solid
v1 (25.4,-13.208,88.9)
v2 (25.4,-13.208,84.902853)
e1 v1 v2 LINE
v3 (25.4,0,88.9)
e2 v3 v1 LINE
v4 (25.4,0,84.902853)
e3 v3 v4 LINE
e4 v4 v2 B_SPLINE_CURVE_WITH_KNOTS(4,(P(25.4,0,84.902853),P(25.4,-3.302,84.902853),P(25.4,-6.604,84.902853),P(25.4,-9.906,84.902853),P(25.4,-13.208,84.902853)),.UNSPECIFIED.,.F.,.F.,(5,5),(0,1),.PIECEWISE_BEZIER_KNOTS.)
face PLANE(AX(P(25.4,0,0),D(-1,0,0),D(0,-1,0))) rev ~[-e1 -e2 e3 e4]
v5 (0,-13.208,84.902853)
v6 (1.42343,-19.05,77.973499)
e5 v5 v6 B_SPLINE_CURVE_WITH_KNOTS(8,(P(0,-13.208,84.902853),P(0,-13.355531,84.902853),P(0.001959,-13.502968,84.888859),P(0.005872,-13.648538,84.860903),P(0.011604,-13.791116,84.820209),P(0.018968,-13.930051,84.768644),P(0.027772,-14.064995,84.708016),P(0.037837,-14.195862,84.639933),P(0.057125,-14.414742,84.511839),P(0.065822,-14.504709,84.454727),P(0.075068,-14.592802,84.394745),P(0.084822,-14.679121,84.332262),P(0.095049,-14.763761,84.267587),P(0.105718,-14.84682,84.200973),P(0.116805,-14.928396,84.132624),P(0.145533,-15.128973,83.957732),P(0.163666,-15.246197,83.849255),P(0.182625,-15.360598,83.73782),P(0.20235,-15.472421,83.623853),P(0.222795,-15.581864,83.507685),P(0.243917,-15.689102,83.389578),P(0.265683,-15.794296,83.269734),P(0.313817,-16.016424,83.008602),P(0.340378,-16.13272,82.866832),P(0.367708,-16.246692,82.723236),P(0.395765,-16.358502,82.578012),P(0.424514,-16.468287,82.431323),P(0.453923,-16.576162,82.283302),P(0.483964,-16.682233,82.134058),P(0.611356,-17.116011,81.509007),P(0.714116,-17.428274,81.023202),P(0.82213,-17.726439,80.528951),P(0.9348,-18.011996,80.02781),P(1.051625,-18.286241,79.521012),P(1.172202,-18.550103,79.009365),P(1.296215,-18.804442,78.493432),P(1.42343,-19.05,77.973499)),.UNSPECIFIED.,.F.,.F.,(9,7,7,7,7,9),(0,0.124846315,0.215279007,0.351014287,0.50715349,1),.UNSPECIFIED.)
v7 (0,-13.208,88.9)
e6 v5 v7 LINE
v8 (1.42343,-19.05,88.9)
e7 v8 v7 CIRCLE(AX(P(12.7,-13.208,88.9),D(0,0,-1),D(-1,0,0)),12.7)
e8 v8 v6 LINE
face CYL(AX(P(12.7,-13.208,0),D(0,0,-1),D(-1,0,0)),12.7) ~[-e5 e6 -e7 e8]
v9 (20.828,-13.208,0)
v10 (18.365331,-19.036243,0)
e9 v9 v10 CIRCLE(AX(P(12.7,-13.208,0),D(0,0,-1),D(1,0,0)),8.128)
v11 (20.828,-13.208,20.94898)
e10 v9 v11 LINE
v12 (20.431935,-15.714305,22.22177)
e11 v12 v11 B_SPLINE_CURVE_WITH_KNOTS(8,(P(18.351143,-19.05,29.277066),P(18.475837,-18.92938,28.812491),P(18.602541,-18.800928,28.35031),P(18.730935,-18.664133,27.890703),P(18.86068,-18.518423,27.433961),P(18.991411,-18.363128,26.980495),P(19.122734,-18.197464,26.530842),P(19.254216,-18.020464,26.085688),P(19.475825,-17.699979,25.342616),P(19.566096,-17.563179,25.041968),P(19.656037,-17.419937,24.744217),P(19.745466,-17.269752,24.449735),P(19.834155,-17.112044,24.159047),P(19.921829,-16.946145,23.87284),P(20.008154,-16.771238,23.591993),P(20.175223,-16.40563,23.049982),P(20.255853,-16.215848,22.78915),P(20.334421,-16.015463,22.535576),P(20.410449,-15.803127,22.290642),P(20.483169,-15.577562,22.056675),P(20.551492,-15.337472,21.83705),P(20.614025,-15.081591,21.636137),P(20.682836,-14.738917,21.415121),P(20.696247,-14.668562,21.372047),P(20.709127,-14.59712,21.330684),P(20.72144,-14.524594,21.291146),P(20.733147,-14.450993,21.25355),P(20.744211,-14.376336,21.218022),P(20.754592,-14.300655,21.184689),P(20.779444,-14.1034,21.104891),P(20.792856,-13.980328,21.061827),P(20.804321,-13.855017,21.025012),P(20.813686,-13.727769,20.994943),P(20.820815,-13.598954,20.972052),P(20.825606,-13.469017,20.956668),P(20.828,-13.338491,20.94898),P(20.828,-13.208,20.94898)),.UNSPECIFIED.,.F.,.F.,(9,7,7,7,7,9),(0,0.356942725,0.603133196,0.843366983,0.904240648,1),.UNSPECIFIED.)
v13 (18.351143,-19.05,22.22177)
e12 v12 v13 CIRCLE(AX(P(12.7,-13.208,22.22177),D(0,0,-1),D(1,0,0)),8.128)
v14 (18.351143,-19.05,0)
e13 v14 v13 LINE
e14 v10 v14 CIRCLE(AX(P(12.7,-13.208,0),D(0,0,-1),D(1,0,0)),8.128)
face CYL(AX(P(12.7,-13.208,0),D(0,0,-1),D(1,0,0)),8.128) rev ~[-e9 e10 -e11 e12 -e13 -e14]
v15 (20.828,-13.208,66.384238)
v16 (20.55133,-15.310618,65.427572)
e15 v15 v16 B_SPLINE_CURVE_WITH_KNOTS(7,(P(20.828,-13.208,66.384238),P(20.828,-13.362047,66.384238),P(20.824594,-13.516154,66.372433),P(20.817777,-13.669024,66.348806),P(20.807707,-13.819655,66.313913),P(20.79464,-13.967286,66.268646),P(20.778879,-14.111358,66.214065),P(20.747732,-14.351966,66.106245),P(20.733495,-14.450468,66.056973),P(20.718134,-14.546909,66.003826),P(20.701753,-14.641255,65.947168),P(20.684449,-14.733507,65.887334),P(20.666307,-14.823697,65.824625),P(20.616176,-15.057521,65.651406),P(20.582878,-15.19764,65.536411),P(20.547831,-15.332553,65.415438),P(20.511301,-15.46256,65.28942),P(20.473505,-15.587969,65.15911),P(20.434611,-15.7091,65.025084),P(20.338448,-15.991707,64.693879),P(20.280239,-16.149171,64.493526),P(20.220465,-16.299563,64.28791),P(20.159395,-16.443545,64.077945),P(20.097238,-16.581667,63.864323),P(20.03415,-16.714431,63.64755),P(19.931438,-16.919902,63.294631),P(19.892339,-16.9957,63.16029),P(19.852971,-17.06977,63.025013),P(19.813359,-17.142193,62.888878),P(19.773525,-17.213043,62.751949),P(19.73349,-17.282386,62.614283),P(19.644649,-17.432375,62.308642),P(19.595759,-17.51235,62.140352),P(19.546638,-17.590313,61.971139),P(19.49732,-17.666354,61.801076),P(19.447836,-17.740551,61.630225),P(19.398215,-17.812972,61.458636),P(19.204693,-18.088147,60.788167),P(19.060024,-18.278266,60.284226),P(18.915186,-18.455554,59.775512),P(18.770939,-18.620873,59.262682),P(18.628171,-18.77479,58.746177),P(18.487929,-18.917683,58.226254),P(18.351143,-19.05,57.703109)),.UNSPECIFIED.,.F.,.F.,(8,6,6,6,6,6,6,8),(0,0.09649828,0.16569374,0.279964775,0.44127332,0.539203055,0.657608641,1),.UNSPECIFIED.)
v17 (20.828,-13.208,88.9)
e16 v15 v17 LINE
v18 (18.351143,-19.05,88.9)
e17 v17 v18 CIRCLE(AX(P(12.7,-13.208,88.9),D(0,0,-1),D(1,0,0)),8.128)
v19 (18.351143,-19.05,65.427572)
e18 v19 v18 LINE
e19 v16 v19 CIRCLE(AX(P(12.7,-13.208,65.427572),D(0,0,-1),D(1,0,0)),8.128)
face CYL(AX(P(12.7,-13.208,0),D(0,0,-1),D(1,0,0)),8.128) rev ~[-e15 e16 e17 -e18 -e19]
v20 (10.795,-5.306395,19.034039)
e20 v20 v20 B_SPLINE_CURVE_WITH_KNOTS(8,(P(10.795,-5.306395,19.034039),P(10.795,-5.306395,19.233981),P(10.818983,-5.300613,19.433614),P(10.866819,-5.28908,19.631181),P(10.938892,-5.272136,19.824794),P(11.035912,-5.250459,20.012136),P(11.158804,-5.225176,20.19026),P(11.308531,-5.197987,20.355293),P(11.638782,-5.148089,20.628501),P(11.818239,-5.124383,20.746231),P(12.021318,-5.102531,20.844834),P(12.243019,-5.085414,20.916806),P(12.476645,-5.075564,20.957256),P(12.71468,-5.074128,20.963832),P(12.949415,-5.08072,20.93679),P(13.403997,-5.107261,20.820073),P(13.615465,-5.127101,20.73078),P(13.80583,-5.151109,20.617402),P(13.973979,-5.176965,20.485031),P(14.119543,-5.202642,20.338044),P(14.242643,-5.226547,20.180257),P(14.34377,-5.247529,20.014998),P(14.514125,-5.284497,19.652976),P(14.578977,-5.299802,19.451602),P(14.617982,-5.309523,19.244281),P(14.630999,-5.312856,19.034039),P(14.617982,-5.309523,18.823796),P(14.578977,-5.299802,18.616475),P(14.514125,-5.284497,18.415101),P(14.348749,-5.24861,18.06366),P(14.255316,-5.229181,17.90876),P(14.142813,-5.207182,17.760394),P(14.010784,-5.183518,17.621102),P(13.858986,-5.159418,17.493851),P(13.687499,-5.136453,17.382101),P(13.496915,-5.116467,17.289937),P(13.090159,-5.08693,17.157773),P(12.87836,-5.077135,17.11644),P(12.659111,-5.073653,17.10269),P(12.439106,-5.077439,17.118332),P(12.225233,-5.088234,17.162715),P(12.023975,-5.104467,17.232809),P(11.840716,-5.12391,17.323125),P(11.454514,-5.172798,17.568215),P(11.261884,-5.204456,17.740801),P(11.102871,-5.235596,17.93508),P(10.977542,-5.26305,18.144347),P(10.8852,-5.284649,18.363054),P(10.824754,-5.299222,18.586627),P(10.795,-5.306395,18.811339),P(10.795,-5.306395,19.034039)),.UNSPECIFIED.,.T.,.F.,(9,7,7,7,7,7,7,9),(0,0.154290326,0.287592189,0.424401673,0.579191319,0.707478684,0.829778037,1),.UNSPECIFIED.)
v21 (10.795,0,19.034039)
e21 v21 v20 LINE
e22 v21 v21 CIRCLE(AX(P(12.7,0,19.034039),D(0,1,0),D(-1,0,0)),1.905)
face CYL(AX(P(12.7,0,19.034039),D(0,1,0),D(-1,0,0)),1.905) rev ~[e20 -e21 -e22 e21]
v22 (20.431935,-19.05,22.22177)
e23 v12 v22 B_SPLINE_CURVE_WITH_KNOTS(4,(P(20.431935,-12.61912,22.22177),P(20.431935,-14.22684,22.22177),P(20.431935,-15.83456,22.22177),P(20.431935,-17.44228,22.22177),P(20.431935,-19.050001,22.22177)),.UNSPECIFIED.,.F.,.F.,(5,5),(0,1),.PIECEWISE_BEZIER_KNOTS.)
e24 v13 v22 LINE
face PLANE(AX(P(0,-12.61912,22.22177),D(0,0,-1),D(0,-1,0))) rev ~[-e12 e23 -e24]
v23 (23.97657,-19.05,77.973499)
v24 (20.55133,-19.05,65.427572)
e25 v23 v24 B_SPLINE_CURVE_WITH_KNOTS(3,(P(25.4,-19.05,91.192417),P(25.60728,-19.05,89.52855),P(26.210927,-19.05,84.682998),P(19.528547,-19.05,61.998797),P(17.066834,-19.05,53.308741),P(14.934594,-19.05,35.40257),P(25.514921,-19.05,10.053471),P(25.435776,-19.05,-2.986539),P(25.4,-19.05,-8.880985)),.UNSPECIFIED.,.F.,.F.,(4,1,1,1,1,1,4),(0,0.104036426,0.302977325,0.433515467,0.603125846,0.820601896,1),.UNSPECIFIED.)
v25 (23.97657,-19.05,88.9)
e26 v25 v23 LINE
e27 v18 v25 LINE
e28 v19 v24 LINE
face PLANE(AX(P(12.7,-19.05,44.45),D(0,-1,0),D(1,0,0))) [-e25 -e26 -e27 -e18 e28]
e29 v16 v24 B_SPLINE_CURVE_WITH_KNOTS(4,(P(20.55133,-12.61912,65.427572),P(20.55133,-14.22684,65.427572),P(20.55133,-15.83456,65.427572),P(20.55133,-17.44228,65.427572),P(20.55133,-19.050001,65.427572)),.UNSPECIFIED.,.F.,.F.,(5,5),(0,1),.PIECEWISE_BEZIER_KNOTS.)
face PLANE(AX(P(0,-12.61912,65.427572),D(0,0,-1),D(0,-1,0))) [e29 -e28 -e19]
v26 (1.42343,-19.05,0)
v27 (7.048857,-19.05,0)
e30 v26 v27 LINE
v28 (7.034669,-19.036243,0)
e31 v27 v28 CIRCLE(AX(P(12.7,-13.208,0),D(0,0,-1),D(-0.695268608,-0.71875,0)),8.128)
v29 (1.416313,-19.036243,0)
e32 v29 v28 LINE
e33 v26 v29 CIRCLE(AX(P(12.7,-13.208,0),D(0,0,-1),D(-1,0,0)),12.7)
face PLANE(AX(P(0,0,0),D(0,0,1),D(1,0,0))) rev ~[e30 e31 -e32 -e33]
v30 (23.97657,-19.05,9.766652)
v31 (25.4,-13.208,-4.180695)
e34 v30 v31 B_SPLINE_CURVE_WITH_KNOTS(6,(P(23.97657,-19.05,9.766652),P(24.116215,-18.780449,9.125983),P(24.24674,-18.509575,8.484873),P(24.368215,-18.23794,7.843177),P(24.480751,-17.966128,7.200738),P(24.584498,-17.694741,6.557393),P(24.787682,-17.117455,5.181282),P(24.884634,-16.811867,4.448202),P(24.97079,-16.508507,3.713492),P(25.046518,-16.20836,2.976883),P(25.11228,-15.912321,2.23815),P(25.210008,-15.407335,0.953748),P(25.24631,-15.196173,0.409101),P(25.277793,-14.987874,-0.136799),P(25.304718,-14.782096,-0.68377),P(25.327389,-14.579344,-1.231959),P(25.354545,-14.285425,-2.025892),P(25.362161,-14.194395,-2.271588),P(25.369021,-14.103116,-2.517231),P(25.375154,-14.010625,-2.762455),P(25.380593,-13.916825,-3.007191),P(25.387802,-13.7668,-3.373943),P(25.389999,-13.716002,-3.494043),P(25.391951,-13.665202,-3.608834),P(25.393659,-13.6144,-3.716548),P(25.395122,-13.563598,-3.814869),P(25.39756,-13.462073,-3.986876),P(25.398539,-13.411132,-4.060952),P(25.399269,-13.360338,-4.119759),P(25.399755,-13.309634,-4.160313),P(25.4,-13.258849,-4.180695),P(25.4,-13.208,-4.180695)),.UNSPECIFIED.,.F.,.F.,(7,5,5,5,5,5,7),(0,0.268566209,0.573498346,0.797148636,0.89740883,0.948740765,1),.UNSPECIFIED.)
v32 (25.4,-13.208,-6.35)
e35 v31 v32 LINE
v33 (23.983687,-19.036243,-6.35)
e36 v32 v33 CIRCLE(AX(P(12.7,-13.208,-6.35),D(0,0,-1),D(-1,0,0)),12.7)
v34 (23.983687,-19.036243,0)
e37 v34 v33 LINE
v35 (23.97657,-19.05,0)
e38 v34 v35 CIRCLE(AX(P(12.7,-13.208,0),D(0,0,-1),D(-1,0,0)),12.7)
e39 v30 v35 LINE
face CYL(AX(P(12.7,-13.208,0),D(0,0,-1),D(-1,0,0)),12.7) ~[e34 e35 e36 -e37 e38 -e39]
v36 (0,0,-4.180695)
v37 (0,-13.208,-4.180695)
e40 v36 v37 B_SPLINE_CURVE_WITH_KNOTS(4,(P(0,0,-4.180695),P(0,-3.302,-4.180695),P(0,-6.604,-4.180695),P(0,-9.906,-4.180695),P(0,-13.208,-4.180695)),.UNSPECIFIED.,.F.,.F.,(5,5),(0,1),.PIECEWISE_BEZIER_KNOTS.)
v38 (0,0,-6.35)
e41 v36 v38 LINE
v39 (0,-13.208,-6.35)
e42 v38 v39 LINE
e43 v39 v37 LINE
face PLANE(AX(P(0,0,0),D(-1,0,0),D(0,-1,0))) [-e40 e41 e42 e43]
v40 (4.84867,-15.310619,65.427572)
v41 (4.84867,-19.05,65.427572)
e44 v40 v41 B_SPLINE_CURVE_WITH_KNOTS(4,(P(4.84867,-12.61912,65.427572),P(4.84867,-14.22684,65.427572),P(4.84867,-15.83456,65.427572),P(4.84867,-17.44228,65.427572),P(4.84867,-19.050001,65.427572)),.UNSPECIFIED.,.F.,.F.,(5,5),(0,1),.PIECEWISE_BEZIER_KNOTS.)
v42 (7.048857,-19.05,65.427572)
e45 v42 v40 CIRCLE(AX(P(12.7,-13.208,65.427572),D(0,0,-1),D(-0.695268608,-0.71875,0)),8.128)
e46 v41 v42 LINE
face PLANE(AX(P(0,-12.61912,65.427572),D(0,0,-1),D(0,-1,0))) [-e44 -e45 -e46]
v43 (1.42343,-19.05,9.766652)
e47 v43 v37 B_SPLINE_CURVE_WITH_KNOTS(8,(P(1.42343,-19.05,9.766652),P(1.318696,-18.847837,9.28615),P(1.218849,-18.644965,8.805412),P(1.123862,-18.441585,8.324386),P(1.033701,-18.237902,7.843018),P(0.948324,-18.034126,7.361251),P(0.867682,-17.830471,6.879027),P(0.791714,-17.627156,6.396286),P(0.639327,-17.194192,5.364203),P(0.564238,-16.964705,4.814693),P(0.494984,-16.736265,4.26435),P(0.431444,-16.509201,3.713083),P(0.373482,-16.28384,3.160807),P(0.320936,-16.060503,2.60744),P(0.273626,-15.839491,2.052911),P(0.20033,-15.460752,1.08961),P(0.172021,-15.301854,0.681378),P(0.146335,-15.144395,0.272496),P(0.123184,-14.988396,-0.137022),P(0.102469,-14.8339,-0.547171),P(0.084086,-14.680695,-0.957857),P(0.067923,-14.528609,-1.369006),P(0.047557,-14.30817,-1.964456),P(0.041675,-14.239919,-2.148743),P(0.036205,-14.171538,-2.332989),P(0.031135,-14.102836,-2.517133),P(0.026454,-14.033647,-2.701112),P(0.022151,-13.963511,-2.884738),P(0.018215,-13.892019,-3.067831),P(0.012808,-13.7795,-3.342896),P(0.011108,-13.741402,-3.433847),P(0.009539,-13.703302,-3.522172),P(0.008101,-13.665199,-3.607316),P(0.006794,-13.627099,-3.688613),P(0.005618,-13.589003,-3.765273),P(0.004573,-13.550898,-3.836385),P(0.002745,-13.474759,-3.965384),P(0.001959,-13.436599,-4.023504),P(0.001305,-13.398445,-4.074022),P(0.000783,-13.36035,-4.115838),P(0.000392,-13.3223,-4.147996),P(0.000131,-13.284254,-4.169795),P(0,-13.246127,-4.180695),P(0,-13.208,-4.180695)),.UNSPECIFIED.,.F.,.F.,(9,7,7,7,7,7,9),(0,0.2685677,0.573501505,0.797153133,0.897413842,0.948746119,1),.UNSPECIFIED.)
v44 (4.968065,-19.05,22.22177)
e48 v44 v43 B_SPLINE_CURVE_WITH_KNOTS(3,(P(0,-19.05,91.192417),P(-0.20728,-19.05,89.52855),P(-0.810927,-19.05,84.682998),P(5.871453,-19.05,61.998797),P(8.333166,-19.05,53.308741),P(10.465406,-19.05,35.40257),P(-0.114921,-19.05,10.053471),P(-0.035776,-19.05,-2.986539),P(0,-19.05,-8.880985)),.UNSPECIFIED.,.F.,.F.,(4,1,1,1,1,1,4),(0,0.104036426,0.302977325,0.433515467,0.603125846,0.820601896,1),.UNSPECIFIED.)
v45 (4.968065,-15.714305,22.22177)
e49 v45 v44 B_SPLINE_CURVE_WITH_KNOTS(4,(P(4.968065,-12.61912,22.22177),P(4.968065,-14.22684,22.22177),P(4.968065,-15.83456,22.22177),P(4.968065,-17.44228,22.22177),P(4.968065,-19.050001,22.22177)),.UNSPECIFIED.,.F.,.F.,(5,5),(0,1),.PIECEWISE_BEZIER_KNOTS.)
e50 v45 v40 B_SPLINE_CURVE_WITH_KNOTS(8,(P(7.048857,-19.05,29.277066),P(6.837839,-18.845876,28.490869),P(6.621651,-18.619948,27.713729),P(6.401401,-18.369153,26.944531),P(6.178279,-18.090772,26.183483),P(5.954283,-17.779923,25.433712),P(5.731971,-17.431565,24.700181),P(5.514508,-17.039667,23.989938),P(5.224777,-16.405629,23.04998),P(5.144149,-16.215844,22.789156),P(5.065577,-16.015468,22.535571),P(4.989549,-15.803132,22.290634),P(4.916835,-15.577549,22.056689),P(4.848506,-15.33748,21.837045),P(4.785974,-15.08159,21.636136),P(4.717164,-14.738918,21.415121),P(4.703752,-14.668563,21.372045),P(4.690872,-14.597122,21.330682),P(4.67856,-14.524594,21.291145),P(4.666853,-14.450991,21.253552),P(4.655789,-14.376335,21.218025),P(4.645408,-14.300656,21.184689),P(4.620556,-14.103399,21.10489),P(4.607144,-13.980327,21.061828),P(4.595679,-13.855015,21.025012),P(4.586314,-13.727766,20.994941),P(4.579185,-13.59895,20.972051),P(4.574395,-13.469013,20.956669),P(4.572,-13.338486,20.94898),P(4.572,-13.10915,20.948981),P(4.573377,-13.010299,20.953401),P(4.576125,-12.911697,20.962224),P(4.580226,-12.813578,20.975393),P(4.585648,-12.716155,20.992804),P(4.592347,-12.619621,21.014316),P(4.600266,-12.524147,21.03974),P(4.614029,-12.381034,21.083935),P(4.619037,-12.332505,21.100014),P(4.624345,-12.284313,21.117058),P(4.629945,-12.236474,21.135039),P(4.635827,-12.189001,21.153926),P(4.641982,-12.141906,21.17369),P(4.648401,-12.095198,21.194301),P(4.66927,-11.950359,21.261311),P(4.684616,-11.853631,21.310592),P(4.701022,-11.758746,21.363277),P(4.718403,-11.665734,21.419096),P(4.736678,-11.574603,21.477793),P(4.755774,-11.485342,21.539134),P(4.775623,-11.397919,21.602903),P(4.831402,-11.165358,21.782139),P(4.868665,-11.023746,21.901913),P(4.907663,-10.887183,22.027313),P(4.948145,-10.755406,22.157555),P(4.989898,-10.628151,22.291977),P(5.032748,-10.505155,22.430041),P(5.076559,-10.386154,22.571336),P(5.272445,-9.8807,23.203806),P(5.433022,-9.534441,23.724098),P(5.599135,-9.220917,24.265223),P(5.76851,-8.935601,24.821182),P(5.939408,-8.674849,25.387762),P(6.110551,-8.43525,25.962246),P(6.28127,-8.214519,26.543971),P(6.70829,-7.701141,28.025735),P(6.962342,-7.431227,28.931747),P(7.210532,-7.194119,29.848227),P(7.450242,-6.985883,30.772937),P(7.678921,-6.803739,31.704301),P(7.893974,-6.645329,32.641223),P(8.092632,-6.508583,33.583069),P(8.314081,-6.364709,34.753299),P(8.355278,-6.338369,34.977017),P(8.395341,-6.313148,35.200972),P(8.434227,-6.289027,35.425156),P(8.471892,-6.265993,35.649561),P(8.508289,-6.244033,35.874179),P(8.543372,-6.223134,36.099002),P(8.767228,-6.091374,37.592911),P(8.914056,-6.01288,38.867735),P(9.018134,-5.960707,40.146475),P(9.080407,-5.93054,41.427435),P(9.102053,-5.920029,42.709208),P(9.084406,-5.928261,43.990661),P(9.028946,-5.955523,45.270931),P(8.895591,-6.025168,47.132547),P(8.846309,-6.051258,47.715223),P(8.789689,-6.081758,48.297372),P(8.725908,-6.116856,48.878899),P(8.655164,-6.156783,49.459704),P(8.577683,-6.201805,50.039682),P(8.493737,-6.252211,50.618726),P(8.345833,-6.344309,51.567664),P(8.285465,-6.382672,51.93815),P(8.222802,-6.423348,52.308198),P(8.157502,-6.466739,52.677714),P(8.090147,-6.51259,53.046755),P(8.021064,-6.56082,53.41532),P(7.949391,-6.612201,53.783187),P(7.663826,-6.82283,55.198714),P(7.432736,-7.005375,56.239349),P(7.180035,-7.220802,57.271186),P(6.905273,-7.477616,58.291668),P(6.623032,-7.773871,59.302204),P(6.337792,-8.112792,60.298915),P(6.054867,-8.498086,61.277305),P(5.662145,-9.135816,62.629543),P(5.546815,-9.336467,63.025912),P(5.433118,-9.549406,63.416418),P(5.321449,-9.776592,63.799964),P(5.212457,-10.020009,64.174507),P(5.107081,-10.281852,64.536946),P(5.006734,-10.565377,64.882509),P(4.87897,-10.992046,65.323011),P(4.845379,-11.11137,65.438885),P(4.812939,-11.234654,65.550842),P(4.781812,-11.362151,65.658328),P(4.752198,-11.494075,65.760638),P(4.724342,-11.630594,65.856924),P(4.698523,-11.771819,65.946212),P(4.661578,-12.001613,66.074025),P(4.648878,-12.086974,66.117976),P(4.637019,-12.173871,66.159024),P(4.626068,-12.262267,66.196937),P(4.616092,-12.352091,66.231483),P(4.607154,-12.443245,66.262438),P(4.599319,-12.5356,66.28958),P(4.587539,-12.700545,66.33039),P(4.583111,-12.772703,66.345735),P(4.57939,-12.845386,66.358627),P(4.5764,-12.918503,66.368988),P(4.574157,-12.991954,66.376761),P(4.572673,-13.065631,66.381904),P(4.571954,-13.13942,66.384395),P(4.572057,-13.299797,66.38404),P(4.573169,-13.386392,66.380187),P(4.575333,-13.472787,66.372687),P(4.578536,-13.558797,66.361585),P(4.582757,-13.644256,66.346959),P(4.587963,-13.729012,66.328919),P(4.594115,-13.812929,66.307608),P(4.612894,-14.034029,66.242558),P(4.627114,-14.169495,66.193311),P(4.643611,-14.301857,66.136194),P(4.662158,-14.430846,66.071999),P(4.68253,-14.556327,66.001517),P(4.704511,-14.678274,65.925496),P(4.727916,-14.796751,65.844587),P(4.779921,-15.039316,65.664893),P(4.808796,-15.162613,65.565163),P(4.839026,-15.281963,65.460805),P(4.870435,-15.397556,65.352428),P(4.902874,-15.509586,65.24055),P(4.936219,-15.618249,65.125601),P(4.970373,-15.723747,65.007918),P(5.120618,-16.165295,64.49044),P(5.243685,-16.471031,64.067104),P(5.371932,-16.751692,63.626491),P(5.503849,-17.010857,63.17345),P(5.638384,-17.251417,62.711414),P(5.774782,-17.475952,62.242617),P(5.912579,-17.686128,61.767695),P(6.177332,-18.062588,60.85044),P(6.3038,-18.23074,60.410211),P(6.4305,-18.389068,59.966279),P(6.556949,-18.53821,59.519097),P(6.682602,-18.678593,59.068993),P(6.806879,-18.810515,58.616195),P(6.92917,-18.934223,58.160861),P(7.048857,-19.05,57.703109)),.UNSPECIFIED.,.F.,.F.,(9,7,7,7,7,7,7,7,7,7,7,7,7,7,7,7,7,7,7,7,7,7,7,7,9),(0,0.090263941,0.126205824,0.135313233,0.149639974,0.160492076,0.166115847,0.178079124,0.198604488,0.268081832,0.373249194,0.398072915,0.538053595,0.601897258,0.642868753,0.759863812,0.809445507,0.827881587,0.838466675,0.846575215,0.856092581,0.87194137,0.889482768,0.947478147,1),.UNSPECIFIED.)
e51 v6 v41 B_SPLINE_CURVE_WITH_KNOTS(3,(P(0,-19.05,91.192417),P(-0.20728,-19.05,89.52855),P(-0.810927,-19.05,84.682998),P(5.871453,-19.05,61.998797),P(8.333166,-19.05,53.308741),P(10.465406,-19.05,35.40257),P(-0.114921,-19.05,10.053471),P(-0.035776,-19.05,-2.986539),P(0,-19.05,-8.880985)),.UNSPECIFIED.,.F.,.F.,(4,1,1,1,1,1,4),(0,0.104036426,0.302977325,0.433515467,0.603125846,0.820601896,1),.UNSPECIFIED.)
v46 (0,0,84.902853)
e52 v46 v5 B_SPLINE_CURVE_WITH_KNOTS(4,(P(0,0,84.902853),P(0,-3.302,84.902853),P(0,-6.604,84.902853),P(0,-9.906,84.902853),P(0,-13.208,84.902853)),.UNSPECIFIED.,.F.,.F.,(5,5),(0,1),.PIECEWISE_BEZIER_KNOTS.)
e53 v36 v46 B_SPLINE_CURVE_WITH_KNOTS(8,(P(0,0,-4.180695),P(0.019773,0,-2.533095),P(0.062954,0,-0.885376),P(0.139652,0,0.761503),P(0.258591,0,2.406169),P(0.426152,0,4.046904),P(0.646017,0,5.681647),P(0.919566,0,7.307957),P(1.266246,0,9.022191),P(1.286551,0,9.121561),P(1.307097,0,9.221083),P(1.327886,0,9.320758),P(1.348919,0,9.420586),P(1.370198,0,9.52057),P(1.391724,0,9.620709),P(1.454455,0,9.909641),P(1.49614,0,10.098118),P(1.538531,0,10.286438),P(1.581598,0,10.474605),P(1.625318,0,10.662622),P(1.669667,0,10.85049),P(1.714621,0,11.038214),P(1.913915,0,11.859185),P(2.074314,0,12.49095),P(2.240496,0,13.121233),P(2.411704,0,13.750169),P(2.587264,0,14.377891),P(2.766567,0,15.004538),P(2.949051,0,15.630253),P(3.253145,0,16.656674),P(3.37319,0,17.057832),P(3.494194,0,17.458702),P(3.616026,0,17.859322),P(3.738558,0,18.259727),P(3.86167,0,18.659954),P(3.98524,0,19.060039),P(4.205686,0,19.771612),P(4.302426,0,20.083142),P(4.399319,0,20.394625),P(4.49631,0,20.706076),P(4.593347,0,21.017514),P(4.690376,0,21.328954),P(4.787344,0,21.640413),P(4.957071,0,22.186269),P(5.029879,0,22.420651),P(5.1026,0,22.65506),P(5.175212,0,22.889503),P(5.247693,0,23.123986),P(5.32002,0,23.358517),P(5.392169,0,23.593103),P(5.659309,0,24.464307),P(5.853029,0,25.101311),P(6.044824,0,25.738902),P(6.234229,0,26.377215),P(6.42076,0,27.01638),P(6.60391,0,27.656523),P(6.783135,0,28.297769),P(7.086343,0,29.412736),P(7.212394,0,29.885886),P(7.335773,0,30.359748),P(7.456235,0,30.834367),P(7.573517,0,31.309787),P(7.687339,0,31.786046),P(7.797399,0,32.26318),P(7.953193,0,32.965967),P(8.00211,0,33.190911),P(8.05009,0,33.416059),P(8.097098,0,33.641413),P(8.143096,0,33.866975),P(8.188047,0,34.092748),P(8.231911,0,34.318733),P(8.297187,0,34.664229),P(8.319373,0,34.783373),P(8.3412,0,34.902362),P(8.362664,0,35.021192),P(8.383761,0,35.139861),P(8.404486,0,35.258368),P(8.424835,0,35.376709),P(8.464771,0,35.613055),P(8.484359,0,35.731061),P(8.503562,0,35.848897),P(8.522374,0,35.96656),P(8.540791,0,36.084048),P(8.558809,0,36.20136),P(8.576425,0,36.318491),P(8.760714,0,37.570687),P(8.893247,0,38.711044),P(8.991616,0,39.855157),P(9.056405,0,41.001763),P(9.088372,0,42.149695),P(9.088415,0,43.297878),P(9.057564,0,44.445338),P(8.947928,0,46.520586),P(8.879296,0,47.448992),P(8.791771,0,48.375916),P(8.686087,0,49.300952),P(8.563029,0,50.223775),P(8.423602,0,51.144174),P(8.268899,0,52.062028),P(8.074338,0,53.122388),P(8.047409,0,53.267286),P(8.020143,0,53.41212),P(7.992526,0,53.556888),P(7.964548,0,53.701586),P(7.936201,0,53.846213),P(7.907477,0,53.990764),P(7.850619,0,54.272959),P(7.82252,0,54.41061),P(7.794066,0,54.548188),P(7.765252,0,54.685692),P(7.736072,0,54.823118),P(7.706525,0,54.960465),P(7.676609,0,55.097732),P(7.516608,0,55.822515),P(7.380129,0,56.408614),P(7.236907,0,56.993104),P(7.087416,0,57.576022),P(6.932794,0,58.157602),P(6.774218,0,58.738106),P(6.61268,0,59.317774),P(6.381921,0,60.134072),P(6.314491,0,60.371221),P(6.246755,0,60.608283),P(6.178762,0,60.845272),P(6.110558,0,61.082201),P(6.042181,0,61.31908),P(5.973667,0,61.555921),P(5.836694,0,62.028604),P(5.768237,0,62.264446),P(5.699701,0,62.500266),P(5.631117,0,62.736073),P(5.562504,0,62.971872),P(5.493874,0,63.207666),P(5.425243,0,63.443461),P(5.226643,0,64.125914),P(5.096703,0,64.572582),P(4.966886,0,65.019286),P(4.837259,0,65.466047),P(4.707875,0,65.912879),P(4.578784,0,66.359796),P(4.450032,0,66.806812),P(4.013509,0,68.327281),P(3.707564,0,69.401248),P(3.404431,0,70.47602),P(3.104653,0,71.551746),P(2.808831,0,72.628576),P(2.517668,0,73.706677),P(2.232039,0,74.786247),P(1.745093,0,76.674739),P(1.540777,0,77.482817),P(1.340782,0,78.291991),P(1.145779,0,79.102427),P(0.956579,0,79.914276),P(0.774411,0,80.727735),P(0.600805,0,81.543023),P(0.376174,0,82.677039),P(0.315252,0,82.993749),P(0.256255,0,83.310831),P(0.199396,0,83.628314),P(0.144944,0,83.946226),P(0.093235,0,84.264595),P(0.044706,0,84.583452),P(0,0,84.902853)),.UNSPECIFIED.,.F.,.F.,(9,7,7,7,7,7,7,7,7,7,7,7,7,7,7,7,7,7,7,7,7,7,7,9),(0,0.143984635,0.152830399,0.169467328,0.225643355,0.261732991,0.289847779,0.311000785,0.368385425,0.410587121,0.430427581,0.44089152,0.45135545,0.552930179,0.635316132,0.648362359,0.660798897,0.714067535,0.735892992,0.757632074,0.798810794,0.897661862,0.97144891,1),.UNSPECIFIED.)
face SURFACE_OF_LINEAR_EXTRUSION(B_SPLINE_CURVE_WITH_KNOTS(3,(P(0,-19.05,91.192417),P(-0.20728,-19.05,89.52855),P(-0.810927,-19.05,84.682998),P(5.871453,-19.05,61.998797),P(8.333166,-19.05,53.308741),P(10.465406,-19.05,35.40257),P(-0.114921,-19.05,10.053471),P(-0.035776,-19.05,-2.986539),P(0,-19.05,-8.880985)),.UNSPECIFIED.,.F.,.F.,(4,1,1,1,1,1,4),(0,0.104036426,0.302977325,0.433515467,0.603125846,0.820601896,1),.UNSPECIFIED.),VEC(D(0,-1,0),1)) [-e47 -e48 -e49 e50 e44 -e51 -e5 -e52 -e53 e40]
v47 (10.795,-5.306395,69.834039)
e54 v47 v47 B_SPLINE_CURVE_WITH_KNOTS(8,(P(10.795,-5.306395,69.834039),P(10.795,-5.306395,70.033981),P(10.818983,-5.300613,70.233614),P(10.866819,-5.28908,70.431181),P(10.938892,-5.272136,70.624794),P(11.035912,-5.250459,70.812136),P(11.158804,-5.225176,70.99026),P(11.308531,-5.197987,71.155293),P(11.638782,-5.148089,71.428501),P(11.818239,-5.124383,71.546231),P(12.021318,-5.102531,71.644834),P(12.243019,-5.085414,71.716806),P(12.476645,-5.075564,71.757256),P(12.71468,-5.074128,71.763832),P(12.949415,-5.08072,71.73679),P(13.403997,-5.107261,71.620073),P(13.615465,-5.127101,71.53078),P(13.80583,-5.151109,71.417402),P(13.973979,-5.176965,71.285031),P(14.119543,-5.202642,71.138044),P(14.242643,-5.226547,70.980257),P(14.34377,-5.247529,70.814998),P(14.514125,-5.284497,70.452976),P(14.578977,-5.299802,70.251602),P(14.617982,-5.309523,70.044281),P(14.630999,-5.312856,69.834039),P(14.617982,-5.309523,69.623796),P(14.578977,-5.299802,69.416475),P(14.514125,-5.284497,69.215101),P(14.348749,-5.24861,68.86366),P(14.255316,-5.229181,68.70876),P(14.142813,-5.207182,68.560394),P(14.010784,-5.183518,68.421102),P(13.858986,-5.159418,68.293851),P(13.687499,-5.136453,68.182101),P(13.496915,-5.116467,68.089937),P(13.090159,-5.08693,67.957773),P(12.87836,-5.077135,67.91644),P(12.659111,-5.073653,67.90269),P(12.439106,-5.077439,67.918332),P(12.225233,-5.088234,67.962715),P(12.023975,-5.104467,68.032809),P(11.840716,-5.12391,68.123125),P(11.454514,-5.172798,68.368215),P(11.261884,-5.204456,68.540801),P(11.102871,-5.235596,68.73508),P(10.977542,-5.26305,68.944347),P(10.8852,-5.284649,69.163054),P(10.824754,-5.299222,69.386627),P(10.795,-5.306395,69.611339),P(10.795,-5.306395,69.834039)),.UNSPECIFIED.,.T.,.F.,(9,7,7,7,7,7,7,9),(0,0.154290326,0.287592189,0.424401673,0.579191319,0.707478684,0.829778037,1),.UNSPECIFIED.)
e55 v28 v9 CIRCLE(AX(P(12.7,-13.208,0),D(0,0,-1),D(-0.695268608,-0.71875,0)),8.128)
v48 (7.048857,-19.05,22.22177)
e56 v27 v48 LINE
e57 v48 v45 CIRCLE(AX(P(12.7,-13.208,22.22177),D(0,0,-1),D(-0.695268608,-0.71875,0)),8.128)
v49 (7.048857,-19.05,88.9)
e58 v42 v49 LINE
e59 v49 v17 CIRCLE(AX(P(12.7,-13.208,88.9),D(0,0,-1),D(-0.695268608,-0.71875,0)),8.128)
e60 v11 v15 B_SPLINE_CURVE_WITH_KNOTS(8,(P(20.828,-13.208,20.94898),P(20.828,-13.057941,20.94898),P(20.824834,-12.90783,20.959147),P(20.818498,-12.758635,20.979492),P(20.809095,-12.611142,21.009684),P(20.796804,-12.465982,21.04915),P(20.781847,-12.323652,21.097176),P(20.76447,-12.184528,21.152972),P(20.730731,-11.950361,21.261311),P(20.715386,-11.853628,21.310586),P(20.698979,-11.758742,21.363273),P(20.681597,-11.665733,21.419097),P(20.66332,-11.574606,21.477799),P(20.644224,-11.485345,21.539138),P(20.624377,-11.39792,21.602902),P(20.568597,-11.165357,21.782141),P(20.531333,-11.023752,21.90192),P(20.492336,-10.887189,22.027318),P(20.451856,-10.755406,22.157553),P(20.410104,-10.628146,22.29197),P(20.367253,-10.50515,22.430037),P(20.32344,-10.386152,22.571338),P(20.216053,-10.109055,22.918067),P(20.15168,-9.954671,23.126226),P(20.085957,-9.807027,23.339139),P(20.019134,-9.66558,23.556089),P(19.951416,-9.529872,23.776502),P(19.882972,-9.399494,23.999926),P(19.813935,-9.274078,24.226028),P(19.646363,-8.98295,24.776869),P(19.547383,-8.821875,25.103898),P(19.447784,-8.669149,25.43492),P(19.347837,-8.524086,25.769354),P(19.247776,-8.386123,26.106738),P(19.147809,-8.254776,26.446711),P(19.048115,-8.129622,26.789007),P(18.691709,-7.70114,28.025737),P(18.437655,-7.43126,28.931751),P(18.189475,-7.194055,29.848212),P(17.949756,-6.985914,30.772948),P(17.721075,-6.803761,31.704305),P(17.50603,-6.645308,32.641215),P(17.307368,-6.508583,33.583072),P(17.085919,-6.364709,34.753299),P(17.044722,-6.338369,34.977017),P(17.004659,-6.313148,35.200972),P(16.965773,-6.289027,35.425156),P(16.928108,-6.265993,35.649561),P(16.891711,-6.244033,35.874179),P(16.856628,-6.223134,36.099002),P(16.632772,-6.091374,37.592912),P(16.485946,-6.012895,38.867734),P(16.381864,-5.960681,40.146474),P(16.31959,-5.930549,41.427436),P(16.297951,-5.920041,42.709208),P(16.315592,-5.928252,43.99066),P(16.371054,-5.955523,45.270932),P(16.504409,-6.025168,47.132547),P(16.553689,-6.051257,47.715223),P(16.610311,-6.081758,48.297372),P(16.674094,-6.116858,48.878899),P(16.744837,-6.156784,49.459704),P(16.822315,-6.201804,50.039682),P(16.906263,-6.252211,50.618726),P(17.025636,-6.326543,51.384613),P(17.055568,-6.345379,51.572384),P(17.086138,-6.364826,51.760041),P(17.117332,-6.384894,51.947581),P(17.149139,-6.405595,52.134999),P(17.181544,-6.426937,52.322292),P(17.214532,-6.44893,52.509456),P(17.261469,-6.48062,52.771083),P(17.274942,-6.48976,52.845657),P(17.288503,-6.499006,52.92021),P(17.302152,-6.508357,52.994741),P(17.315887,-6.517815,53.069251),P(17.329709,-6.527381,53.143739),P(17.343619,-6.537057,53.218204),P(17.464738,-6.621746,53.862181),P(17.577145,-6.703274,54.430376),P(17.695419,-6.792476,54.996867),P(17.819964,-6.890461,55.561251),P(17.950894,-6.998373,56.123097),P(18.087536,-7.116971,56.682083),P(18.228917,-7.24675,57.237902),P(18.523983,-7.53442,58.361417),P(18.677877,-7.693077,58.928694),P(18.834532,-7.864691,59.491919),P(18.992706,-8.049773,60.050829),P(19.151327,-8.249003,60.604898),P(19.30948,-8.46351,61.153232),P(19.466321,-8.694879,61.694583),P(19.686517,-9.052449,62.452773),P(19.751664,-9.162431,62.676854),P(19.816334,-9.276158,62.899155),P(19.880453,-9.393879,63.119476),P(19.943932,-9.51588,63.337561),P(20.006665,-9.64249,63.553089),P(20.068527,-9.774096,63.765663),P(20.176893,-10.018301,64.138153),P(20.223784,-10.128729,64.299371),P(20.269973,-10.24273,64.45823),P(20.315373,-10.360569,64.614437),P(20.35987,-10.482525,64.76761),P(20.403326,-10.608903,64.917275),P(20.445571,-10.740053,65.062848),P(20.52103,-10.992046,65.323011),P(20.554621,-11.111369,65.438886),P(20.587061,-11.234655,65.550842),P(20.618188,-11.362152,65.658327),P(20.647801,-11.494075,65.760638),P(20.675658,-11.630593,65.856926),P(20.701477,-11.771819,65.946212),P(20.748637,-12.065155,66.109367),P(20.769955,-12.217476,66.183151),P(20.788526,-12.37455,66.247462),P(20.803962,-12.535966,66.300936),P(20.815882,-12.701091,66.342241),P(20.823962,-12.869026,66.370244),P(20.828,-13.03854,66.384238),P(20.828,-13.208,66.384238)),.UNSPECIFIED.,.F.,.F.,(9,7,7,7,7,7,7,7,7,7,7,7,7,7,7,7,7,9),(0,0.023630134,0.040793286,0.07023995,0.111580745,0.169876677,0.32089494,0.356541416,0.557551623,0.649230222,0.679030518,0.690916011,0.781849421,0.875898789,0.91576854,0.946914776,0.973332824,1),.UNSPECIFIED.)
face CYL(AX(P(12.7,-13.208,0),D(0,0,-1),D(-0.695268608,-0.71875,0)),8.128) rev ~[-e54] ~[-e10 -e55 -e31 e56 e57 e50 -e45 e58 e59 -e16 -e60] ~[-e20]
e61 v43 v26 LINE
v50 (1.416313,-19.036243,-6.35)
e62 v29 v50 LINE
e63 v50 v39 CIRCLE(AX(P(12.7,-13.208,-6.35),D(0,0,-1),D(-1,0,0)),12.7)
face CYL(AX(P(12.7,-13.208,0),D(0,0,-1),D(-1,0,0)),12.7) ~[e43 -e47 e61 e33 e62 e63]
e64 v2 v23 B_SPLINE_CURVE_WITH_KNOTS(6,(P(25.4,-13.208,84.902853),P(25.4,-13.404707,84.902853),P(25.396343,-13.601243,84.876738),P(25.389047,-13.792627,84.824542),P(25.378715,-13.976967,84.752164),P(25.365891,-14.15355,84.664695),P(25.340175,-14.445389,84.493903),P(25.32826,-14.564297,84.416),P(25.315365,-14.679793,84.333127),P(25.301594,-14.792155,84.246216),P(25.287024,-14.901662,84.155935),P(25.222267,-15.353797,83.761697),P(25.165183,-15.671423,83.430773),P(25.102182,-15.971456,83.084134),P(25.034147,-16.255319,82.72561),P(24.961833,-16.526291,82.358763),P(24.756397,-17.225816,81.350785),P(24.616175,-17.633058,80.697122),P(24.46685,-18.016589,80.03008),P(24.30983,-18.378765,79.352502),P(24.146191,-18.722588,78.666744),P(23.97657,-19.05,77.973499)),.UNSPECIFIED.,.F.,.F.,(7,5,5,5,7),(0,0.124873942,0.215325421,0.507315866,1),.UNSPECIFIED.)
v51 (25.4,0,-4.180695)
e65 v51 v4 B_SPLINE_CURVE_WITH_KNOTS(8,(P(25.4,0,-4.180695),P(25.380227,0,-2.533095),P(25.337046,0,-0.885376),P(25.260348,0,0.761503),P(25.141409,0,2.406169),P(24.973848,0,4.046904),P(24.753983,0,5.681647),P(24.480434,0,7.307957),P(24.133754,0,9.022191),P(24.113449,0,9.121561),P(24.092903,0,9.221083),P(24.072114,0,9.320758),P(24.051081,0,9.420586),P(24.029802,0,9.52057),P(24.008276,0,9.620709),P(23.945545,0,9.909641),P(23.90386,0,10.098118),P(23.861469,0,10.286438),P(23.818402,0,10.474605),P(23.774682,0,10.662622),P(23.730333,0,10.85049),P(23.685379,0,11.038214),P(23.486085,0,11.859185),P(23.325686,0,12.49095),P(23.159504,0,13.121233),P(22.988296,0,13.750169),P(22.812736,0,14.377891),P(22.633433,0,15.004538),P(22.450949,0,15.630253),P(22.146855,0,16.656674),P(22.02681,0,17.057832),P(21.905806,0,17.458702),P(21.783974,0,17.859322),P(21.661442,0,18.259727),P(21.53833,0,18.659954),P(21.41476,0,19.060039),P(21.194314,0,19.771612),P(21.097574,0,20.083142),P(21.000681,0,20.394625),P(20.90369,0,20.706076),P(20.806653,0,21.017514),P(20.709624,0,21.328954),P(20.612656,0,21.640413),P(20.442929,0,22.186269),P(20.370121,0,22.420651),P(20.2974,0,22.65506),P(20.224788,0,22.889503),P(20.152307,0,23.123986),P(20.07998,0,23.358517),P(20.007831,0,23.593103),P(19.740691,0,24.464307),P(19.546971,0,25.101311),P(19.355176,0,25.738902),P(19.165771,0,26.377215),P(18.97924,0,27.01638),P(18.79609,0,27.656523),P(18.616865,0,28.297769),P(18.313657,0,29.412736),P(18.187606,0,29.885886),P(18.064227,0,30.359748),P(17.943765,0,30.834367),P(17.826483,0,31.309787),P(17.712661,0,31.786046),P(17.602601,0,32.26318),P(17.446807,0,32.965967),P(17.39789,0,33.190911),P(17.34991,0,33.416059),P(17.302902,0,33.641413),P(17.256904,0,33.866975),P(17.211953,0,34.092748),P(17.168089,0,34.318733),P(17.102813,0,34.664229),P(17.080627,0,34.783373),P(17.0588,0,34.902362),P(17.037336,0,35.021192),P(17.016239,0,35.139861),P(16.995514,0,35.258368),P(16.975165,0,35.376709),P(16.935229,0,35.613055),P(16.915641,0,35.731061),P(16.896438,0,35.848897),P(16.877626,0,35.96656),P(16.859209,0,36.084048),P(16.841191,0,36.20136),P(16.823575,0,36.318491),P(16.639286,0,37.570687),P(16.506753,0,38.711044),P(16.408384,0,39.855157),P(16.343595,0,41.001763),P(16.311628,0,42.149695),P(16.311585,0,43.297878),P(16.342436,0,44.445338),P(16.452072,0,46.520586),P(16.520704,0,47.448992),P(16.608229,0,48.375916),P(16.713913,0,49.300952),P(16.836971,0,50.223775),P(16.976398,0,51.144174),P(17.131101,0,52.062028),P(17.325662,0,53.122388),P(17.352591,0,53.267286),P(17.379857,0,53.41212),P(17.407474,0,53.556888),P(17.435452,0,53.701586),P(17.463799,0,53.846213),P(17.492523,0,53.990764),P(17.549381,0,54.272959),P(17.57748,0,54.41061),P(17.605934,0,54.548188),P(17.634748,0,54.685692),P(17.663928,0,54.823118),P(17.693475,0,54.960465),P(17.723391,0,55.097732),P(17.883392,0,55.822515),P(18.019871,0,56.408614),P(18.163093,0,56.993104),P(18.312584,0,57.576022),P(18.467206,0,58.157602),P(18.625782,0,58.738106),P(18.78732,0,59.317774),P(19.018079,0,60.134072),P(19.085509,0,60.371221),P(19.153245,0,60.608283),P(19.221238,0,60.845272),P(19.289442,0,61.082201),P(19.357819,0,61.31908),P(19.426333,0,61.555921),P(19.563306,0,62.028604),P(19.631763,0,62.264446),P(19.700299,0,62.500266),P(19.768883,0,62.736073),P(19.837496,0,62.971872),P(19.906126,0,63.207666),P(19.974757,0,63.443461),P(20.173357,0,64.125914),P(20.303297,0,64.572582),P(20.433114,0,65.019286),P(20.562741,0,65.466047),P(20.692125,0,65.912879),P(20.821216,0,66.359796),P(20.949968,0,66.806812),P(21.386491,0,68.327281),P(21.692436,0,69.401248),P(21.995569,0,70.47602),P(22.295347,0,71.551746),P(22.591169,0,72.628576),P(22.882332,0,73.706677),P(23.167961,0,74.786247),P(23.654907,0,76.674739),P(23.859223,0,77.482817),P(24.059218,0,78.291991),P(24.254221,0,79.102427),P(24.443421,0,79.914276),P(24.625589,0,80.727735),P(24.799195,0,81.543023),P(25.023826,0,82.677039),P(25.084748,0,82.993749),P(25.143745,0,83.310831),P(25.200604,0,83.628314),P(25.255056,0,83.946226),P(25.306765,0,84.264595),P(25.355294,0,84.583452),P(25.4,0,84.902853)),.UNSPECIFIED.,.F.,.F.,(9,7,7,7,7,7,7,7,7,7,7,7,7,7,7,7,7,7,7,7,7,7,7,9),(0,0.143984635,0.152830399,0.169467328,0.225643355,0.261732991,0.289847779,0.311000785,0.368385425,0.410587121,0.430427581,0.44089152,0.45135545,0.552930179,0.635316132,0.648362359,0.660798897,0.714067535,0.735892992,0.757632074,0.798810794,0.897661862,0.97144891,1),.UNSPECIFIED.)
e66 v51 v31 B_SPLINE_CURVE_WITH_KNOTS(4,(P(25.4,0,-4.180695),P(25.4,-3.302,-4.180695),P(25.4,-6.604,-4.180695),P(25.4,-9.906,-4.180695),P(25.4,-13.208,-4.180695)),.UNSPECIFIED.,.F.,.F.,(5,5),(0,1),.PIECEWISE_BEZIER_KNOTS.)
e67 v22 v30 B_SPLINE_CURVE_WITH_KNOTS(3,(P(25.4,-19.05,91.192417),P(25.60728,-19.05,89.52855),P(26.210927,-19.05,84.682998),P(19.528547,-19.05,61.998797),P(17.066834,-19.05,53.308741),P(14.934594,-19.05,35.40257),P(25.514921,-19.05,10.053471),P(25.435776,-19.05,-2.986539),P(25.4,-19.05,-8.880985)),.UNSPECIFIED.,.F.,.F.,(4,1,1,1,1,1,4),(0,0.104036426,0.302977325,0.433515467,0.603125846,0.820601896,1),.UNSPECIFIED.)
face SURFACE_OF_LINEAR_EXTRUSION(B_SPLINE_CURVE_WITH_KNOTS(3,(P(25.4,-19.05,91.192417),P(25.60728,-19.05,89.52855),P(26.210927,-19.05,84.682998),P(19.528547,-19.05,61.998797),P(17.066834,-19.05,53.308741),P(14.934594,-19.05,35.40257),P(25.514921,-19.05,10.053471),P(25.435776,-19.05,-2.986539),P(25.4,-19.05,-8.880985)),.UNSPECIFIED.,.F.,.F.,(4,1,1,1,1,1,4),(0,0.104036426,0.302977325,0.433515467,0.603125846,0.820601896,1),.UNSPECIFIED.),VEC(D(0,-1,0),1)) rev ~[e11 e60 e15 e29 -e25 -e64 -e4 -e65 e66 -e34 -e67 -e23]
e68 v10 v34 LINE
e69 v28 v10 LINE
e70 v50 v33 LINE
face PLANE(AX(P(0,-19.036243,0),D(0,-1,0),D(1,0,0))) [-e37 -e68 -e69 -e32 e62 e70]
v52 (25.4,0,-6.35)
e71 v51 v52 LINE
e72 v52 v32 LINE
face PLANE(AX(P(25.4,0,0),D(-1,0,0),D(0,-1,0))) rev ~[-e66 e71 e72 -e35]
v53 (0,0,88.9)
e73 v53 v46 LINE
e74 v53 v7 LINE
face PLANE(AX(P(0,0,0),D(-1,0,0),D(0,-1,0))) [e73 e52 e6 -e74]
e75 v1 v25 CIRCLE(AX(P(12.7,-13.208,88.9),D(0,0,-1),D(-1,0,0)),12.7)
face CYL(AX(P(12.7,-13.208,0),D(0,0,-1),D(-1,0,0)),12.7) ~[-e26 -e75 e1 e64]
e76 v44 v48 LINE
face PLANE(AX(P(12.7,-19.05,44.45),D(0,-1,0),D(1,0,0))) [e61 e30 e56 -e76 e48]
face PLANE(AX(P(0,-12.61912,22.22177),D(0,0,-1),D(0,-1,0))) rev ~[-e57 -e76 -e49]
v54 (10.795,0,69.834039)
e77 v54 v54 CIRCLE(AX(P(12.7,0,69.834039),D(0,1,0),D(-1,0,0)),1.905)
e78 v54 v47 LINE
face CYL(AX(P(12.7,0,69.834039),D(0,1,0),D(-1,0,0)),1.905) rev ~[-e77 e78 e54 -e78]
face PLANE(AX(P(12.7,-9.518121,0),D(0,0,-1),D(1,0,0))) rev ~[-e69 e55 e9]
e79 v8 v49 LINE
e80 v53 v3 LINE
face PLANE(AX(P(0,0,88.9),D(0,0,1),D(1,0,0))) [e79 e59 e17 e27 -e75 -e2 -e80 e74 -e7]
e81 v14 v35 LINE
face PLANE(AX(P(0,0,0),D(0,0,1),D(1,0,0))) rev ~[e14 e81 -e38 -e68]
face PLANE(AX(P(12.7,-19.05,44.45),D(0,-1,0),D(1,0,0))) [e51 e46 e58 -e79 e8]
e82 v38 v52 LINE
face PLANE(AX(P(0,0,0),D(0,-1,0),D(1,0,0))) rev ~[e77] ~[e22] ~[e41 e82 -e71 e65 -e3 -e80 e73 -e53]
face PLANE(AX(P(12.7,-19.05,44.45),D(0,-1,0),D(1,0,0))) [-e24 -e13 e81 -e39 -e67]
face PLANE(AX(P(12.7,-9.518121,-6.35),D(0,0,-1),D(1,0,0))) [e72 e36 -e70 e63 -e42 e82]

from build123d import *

# Parameters (mm, degrees)
F0_W      = 25.4
F0_H      = 88.9
F1_DEPTH  = 19.05
F3_DEPTH  = 88.9
F4_W      = 25.4
F4_H      = 19.0362427384
F5_DEPTH  = 6.35
F7_DEPTH  = 114.3
F8_R      = 1.905
F9_DEPTH  = 25.4
F10_W     = 32.515410101
F10_H     = 106.9501955062
F11_DEPTH = 25.4
F12_W     = 8.0266231671
F12_H     = 43.2058013976
F13_DEPTH = 25.4


with BuildPart() as f1:
    # F0 (on Front) → F1 (new body)
    with BuildSketch(Plane.XZ):
        with Locations((12.7, 44.45)):
            Rectangle(F0_W, F0_H)
    extrude(amount=F1_DEPTH)

    # F2 (on face) → F3 (cut)
    with BuildSketch(Plane(origin=(0, 0, 0), x_dir=(1, 0, 0), z_dir=(0, 0, -1))):
        with BuildLine():
            ThreePointArc((7.0488567528, 19.05), (9.5273125204, 5.7247895822), (20.828, 13.208))
            ThreePointArc((20.828, 13.208), (20.1832104178, 16.3806874796), (18.3511432472, 19.05))
            Line((18.3511432472, 19.05), (7.0488567528, 19.05))
        make_face()
    extrude(amount=-F3_DEPTH, mode=Mode.SUBTRACT)

    # F4 (on face) → F5 (join)
    with BuildSketch(Plane(origin=(0, 0, 0), x_dir=(1, 0, 0), z_dir=(0, 0, -1))):
        with Locations((12.7, 9.5181213692)):
            Rectangle(F4_W, F4_H)
    extrude(amount=F5_DEPTH)

    # F6 (on face) → F7 (cut, symmetric)
    with BuildSketch(Plane(origin=(0, 0, 0), x_dir=(1, 0, 0), z_dir=(0, 0, -1))):
        with BuildLine():
            ThreePointArc((0, 13.208), (12.7, 25.908), (25.4, 13.208))
            Line((25.4, 13.208), (31.75, 13.208))
            ThreePointArc((31.75, 13.208), (12.7, 32.258), (-6.35, 13.208))
            Line((-6.35, 13.208), (0, 13.208))
        make_face()
    extrude(amount=F7_DEPTH, both=True, mode=Mode.SUBTRACT)

    # F8 (on face) → F9 (cut)
    with BuildSketch(Plane(origin=(0, 0, 0), x_dir=(-1, 0, 0), z_dir=(0, 1, 0))):
        with Locations((-12.7, 69.8340386152)):
            Circle(F8_R)
        with Locations((-12.7, 19.0340386152)):
            Circle(F8_R)
    extrude(amount=-F9_DEPTH, mode=Mode.SUBTRACT)

    # F10 (on face) → F11 (cut)
    with BuildSketch(Plane.XZ.offset(19.05)):
        with Locations((13.0842068465, 40.5728658661)):
            Rectangle(F10_W, F10_H)
        with BuildLine():
            add(Edge.make_bspline(
                [(0, 91.1924168468), (-0.2072802179, 89.5285500339), (-0.8109265431, 84.6829979709), (5.8714529307, 61.9987966996), (8.3331655037, 53.3087405244), (10.465405729, 35.4025704859), (-0.1149214783, 10.0534714859), (-0.0357759636, -2.9865391809), (0, -8.8809849694)],
                knots=[0, 0, 0, 0, 0.1040364256, 0.3029773253, 0.4335154667, 0.6031258459, 0.8206018963, 1, 1, 1, 1], degree=3))
            Line((0, 91.1924168468), (25.4, 91.1924168468))
            add(Edge.make_bspline(
                [(25.4, 91.1924168468), (25.6072802179, 89.5285500339), (26.2109265431, 84.6829979709), (19.5285470693, 61.9987966996), (17.0668344963, 53.3087405244), (14.934594271, 35.4025704859), (25.5149214783, 10.0534714859), (25.4357759636, -2.9865391809), (25.4, -8.8809849694)],
                knots=[0, 0, 0, 0, 0.1040364256, 0.3029773253, 0.4335154667, 0.6031258459, 0.8206018963, 1, 1, 1, 1], degree=3))
            Line((25.4, -8.8809849694), (0, -8.8809849694))
        make_face(mode=Mode.SUBTRACT)
    extrude(amount=-F11_DEPTH, mode=Mode.SUBTRACT)

    # F12 (on face) → F13 (cut)
    with BuildSketch(Plane(origin=(0, 0, 0), x_dir=(0, -1, 0), z_dir=(-1, 0, 0))):
        with Locations((16.6324316524, 43.8246708363)):
            Rectangle(F12_W, F12_H)
    extrude(amount=-F13_DEPTH, mode=Mode.SUBTRACT)


solid = f1.part
